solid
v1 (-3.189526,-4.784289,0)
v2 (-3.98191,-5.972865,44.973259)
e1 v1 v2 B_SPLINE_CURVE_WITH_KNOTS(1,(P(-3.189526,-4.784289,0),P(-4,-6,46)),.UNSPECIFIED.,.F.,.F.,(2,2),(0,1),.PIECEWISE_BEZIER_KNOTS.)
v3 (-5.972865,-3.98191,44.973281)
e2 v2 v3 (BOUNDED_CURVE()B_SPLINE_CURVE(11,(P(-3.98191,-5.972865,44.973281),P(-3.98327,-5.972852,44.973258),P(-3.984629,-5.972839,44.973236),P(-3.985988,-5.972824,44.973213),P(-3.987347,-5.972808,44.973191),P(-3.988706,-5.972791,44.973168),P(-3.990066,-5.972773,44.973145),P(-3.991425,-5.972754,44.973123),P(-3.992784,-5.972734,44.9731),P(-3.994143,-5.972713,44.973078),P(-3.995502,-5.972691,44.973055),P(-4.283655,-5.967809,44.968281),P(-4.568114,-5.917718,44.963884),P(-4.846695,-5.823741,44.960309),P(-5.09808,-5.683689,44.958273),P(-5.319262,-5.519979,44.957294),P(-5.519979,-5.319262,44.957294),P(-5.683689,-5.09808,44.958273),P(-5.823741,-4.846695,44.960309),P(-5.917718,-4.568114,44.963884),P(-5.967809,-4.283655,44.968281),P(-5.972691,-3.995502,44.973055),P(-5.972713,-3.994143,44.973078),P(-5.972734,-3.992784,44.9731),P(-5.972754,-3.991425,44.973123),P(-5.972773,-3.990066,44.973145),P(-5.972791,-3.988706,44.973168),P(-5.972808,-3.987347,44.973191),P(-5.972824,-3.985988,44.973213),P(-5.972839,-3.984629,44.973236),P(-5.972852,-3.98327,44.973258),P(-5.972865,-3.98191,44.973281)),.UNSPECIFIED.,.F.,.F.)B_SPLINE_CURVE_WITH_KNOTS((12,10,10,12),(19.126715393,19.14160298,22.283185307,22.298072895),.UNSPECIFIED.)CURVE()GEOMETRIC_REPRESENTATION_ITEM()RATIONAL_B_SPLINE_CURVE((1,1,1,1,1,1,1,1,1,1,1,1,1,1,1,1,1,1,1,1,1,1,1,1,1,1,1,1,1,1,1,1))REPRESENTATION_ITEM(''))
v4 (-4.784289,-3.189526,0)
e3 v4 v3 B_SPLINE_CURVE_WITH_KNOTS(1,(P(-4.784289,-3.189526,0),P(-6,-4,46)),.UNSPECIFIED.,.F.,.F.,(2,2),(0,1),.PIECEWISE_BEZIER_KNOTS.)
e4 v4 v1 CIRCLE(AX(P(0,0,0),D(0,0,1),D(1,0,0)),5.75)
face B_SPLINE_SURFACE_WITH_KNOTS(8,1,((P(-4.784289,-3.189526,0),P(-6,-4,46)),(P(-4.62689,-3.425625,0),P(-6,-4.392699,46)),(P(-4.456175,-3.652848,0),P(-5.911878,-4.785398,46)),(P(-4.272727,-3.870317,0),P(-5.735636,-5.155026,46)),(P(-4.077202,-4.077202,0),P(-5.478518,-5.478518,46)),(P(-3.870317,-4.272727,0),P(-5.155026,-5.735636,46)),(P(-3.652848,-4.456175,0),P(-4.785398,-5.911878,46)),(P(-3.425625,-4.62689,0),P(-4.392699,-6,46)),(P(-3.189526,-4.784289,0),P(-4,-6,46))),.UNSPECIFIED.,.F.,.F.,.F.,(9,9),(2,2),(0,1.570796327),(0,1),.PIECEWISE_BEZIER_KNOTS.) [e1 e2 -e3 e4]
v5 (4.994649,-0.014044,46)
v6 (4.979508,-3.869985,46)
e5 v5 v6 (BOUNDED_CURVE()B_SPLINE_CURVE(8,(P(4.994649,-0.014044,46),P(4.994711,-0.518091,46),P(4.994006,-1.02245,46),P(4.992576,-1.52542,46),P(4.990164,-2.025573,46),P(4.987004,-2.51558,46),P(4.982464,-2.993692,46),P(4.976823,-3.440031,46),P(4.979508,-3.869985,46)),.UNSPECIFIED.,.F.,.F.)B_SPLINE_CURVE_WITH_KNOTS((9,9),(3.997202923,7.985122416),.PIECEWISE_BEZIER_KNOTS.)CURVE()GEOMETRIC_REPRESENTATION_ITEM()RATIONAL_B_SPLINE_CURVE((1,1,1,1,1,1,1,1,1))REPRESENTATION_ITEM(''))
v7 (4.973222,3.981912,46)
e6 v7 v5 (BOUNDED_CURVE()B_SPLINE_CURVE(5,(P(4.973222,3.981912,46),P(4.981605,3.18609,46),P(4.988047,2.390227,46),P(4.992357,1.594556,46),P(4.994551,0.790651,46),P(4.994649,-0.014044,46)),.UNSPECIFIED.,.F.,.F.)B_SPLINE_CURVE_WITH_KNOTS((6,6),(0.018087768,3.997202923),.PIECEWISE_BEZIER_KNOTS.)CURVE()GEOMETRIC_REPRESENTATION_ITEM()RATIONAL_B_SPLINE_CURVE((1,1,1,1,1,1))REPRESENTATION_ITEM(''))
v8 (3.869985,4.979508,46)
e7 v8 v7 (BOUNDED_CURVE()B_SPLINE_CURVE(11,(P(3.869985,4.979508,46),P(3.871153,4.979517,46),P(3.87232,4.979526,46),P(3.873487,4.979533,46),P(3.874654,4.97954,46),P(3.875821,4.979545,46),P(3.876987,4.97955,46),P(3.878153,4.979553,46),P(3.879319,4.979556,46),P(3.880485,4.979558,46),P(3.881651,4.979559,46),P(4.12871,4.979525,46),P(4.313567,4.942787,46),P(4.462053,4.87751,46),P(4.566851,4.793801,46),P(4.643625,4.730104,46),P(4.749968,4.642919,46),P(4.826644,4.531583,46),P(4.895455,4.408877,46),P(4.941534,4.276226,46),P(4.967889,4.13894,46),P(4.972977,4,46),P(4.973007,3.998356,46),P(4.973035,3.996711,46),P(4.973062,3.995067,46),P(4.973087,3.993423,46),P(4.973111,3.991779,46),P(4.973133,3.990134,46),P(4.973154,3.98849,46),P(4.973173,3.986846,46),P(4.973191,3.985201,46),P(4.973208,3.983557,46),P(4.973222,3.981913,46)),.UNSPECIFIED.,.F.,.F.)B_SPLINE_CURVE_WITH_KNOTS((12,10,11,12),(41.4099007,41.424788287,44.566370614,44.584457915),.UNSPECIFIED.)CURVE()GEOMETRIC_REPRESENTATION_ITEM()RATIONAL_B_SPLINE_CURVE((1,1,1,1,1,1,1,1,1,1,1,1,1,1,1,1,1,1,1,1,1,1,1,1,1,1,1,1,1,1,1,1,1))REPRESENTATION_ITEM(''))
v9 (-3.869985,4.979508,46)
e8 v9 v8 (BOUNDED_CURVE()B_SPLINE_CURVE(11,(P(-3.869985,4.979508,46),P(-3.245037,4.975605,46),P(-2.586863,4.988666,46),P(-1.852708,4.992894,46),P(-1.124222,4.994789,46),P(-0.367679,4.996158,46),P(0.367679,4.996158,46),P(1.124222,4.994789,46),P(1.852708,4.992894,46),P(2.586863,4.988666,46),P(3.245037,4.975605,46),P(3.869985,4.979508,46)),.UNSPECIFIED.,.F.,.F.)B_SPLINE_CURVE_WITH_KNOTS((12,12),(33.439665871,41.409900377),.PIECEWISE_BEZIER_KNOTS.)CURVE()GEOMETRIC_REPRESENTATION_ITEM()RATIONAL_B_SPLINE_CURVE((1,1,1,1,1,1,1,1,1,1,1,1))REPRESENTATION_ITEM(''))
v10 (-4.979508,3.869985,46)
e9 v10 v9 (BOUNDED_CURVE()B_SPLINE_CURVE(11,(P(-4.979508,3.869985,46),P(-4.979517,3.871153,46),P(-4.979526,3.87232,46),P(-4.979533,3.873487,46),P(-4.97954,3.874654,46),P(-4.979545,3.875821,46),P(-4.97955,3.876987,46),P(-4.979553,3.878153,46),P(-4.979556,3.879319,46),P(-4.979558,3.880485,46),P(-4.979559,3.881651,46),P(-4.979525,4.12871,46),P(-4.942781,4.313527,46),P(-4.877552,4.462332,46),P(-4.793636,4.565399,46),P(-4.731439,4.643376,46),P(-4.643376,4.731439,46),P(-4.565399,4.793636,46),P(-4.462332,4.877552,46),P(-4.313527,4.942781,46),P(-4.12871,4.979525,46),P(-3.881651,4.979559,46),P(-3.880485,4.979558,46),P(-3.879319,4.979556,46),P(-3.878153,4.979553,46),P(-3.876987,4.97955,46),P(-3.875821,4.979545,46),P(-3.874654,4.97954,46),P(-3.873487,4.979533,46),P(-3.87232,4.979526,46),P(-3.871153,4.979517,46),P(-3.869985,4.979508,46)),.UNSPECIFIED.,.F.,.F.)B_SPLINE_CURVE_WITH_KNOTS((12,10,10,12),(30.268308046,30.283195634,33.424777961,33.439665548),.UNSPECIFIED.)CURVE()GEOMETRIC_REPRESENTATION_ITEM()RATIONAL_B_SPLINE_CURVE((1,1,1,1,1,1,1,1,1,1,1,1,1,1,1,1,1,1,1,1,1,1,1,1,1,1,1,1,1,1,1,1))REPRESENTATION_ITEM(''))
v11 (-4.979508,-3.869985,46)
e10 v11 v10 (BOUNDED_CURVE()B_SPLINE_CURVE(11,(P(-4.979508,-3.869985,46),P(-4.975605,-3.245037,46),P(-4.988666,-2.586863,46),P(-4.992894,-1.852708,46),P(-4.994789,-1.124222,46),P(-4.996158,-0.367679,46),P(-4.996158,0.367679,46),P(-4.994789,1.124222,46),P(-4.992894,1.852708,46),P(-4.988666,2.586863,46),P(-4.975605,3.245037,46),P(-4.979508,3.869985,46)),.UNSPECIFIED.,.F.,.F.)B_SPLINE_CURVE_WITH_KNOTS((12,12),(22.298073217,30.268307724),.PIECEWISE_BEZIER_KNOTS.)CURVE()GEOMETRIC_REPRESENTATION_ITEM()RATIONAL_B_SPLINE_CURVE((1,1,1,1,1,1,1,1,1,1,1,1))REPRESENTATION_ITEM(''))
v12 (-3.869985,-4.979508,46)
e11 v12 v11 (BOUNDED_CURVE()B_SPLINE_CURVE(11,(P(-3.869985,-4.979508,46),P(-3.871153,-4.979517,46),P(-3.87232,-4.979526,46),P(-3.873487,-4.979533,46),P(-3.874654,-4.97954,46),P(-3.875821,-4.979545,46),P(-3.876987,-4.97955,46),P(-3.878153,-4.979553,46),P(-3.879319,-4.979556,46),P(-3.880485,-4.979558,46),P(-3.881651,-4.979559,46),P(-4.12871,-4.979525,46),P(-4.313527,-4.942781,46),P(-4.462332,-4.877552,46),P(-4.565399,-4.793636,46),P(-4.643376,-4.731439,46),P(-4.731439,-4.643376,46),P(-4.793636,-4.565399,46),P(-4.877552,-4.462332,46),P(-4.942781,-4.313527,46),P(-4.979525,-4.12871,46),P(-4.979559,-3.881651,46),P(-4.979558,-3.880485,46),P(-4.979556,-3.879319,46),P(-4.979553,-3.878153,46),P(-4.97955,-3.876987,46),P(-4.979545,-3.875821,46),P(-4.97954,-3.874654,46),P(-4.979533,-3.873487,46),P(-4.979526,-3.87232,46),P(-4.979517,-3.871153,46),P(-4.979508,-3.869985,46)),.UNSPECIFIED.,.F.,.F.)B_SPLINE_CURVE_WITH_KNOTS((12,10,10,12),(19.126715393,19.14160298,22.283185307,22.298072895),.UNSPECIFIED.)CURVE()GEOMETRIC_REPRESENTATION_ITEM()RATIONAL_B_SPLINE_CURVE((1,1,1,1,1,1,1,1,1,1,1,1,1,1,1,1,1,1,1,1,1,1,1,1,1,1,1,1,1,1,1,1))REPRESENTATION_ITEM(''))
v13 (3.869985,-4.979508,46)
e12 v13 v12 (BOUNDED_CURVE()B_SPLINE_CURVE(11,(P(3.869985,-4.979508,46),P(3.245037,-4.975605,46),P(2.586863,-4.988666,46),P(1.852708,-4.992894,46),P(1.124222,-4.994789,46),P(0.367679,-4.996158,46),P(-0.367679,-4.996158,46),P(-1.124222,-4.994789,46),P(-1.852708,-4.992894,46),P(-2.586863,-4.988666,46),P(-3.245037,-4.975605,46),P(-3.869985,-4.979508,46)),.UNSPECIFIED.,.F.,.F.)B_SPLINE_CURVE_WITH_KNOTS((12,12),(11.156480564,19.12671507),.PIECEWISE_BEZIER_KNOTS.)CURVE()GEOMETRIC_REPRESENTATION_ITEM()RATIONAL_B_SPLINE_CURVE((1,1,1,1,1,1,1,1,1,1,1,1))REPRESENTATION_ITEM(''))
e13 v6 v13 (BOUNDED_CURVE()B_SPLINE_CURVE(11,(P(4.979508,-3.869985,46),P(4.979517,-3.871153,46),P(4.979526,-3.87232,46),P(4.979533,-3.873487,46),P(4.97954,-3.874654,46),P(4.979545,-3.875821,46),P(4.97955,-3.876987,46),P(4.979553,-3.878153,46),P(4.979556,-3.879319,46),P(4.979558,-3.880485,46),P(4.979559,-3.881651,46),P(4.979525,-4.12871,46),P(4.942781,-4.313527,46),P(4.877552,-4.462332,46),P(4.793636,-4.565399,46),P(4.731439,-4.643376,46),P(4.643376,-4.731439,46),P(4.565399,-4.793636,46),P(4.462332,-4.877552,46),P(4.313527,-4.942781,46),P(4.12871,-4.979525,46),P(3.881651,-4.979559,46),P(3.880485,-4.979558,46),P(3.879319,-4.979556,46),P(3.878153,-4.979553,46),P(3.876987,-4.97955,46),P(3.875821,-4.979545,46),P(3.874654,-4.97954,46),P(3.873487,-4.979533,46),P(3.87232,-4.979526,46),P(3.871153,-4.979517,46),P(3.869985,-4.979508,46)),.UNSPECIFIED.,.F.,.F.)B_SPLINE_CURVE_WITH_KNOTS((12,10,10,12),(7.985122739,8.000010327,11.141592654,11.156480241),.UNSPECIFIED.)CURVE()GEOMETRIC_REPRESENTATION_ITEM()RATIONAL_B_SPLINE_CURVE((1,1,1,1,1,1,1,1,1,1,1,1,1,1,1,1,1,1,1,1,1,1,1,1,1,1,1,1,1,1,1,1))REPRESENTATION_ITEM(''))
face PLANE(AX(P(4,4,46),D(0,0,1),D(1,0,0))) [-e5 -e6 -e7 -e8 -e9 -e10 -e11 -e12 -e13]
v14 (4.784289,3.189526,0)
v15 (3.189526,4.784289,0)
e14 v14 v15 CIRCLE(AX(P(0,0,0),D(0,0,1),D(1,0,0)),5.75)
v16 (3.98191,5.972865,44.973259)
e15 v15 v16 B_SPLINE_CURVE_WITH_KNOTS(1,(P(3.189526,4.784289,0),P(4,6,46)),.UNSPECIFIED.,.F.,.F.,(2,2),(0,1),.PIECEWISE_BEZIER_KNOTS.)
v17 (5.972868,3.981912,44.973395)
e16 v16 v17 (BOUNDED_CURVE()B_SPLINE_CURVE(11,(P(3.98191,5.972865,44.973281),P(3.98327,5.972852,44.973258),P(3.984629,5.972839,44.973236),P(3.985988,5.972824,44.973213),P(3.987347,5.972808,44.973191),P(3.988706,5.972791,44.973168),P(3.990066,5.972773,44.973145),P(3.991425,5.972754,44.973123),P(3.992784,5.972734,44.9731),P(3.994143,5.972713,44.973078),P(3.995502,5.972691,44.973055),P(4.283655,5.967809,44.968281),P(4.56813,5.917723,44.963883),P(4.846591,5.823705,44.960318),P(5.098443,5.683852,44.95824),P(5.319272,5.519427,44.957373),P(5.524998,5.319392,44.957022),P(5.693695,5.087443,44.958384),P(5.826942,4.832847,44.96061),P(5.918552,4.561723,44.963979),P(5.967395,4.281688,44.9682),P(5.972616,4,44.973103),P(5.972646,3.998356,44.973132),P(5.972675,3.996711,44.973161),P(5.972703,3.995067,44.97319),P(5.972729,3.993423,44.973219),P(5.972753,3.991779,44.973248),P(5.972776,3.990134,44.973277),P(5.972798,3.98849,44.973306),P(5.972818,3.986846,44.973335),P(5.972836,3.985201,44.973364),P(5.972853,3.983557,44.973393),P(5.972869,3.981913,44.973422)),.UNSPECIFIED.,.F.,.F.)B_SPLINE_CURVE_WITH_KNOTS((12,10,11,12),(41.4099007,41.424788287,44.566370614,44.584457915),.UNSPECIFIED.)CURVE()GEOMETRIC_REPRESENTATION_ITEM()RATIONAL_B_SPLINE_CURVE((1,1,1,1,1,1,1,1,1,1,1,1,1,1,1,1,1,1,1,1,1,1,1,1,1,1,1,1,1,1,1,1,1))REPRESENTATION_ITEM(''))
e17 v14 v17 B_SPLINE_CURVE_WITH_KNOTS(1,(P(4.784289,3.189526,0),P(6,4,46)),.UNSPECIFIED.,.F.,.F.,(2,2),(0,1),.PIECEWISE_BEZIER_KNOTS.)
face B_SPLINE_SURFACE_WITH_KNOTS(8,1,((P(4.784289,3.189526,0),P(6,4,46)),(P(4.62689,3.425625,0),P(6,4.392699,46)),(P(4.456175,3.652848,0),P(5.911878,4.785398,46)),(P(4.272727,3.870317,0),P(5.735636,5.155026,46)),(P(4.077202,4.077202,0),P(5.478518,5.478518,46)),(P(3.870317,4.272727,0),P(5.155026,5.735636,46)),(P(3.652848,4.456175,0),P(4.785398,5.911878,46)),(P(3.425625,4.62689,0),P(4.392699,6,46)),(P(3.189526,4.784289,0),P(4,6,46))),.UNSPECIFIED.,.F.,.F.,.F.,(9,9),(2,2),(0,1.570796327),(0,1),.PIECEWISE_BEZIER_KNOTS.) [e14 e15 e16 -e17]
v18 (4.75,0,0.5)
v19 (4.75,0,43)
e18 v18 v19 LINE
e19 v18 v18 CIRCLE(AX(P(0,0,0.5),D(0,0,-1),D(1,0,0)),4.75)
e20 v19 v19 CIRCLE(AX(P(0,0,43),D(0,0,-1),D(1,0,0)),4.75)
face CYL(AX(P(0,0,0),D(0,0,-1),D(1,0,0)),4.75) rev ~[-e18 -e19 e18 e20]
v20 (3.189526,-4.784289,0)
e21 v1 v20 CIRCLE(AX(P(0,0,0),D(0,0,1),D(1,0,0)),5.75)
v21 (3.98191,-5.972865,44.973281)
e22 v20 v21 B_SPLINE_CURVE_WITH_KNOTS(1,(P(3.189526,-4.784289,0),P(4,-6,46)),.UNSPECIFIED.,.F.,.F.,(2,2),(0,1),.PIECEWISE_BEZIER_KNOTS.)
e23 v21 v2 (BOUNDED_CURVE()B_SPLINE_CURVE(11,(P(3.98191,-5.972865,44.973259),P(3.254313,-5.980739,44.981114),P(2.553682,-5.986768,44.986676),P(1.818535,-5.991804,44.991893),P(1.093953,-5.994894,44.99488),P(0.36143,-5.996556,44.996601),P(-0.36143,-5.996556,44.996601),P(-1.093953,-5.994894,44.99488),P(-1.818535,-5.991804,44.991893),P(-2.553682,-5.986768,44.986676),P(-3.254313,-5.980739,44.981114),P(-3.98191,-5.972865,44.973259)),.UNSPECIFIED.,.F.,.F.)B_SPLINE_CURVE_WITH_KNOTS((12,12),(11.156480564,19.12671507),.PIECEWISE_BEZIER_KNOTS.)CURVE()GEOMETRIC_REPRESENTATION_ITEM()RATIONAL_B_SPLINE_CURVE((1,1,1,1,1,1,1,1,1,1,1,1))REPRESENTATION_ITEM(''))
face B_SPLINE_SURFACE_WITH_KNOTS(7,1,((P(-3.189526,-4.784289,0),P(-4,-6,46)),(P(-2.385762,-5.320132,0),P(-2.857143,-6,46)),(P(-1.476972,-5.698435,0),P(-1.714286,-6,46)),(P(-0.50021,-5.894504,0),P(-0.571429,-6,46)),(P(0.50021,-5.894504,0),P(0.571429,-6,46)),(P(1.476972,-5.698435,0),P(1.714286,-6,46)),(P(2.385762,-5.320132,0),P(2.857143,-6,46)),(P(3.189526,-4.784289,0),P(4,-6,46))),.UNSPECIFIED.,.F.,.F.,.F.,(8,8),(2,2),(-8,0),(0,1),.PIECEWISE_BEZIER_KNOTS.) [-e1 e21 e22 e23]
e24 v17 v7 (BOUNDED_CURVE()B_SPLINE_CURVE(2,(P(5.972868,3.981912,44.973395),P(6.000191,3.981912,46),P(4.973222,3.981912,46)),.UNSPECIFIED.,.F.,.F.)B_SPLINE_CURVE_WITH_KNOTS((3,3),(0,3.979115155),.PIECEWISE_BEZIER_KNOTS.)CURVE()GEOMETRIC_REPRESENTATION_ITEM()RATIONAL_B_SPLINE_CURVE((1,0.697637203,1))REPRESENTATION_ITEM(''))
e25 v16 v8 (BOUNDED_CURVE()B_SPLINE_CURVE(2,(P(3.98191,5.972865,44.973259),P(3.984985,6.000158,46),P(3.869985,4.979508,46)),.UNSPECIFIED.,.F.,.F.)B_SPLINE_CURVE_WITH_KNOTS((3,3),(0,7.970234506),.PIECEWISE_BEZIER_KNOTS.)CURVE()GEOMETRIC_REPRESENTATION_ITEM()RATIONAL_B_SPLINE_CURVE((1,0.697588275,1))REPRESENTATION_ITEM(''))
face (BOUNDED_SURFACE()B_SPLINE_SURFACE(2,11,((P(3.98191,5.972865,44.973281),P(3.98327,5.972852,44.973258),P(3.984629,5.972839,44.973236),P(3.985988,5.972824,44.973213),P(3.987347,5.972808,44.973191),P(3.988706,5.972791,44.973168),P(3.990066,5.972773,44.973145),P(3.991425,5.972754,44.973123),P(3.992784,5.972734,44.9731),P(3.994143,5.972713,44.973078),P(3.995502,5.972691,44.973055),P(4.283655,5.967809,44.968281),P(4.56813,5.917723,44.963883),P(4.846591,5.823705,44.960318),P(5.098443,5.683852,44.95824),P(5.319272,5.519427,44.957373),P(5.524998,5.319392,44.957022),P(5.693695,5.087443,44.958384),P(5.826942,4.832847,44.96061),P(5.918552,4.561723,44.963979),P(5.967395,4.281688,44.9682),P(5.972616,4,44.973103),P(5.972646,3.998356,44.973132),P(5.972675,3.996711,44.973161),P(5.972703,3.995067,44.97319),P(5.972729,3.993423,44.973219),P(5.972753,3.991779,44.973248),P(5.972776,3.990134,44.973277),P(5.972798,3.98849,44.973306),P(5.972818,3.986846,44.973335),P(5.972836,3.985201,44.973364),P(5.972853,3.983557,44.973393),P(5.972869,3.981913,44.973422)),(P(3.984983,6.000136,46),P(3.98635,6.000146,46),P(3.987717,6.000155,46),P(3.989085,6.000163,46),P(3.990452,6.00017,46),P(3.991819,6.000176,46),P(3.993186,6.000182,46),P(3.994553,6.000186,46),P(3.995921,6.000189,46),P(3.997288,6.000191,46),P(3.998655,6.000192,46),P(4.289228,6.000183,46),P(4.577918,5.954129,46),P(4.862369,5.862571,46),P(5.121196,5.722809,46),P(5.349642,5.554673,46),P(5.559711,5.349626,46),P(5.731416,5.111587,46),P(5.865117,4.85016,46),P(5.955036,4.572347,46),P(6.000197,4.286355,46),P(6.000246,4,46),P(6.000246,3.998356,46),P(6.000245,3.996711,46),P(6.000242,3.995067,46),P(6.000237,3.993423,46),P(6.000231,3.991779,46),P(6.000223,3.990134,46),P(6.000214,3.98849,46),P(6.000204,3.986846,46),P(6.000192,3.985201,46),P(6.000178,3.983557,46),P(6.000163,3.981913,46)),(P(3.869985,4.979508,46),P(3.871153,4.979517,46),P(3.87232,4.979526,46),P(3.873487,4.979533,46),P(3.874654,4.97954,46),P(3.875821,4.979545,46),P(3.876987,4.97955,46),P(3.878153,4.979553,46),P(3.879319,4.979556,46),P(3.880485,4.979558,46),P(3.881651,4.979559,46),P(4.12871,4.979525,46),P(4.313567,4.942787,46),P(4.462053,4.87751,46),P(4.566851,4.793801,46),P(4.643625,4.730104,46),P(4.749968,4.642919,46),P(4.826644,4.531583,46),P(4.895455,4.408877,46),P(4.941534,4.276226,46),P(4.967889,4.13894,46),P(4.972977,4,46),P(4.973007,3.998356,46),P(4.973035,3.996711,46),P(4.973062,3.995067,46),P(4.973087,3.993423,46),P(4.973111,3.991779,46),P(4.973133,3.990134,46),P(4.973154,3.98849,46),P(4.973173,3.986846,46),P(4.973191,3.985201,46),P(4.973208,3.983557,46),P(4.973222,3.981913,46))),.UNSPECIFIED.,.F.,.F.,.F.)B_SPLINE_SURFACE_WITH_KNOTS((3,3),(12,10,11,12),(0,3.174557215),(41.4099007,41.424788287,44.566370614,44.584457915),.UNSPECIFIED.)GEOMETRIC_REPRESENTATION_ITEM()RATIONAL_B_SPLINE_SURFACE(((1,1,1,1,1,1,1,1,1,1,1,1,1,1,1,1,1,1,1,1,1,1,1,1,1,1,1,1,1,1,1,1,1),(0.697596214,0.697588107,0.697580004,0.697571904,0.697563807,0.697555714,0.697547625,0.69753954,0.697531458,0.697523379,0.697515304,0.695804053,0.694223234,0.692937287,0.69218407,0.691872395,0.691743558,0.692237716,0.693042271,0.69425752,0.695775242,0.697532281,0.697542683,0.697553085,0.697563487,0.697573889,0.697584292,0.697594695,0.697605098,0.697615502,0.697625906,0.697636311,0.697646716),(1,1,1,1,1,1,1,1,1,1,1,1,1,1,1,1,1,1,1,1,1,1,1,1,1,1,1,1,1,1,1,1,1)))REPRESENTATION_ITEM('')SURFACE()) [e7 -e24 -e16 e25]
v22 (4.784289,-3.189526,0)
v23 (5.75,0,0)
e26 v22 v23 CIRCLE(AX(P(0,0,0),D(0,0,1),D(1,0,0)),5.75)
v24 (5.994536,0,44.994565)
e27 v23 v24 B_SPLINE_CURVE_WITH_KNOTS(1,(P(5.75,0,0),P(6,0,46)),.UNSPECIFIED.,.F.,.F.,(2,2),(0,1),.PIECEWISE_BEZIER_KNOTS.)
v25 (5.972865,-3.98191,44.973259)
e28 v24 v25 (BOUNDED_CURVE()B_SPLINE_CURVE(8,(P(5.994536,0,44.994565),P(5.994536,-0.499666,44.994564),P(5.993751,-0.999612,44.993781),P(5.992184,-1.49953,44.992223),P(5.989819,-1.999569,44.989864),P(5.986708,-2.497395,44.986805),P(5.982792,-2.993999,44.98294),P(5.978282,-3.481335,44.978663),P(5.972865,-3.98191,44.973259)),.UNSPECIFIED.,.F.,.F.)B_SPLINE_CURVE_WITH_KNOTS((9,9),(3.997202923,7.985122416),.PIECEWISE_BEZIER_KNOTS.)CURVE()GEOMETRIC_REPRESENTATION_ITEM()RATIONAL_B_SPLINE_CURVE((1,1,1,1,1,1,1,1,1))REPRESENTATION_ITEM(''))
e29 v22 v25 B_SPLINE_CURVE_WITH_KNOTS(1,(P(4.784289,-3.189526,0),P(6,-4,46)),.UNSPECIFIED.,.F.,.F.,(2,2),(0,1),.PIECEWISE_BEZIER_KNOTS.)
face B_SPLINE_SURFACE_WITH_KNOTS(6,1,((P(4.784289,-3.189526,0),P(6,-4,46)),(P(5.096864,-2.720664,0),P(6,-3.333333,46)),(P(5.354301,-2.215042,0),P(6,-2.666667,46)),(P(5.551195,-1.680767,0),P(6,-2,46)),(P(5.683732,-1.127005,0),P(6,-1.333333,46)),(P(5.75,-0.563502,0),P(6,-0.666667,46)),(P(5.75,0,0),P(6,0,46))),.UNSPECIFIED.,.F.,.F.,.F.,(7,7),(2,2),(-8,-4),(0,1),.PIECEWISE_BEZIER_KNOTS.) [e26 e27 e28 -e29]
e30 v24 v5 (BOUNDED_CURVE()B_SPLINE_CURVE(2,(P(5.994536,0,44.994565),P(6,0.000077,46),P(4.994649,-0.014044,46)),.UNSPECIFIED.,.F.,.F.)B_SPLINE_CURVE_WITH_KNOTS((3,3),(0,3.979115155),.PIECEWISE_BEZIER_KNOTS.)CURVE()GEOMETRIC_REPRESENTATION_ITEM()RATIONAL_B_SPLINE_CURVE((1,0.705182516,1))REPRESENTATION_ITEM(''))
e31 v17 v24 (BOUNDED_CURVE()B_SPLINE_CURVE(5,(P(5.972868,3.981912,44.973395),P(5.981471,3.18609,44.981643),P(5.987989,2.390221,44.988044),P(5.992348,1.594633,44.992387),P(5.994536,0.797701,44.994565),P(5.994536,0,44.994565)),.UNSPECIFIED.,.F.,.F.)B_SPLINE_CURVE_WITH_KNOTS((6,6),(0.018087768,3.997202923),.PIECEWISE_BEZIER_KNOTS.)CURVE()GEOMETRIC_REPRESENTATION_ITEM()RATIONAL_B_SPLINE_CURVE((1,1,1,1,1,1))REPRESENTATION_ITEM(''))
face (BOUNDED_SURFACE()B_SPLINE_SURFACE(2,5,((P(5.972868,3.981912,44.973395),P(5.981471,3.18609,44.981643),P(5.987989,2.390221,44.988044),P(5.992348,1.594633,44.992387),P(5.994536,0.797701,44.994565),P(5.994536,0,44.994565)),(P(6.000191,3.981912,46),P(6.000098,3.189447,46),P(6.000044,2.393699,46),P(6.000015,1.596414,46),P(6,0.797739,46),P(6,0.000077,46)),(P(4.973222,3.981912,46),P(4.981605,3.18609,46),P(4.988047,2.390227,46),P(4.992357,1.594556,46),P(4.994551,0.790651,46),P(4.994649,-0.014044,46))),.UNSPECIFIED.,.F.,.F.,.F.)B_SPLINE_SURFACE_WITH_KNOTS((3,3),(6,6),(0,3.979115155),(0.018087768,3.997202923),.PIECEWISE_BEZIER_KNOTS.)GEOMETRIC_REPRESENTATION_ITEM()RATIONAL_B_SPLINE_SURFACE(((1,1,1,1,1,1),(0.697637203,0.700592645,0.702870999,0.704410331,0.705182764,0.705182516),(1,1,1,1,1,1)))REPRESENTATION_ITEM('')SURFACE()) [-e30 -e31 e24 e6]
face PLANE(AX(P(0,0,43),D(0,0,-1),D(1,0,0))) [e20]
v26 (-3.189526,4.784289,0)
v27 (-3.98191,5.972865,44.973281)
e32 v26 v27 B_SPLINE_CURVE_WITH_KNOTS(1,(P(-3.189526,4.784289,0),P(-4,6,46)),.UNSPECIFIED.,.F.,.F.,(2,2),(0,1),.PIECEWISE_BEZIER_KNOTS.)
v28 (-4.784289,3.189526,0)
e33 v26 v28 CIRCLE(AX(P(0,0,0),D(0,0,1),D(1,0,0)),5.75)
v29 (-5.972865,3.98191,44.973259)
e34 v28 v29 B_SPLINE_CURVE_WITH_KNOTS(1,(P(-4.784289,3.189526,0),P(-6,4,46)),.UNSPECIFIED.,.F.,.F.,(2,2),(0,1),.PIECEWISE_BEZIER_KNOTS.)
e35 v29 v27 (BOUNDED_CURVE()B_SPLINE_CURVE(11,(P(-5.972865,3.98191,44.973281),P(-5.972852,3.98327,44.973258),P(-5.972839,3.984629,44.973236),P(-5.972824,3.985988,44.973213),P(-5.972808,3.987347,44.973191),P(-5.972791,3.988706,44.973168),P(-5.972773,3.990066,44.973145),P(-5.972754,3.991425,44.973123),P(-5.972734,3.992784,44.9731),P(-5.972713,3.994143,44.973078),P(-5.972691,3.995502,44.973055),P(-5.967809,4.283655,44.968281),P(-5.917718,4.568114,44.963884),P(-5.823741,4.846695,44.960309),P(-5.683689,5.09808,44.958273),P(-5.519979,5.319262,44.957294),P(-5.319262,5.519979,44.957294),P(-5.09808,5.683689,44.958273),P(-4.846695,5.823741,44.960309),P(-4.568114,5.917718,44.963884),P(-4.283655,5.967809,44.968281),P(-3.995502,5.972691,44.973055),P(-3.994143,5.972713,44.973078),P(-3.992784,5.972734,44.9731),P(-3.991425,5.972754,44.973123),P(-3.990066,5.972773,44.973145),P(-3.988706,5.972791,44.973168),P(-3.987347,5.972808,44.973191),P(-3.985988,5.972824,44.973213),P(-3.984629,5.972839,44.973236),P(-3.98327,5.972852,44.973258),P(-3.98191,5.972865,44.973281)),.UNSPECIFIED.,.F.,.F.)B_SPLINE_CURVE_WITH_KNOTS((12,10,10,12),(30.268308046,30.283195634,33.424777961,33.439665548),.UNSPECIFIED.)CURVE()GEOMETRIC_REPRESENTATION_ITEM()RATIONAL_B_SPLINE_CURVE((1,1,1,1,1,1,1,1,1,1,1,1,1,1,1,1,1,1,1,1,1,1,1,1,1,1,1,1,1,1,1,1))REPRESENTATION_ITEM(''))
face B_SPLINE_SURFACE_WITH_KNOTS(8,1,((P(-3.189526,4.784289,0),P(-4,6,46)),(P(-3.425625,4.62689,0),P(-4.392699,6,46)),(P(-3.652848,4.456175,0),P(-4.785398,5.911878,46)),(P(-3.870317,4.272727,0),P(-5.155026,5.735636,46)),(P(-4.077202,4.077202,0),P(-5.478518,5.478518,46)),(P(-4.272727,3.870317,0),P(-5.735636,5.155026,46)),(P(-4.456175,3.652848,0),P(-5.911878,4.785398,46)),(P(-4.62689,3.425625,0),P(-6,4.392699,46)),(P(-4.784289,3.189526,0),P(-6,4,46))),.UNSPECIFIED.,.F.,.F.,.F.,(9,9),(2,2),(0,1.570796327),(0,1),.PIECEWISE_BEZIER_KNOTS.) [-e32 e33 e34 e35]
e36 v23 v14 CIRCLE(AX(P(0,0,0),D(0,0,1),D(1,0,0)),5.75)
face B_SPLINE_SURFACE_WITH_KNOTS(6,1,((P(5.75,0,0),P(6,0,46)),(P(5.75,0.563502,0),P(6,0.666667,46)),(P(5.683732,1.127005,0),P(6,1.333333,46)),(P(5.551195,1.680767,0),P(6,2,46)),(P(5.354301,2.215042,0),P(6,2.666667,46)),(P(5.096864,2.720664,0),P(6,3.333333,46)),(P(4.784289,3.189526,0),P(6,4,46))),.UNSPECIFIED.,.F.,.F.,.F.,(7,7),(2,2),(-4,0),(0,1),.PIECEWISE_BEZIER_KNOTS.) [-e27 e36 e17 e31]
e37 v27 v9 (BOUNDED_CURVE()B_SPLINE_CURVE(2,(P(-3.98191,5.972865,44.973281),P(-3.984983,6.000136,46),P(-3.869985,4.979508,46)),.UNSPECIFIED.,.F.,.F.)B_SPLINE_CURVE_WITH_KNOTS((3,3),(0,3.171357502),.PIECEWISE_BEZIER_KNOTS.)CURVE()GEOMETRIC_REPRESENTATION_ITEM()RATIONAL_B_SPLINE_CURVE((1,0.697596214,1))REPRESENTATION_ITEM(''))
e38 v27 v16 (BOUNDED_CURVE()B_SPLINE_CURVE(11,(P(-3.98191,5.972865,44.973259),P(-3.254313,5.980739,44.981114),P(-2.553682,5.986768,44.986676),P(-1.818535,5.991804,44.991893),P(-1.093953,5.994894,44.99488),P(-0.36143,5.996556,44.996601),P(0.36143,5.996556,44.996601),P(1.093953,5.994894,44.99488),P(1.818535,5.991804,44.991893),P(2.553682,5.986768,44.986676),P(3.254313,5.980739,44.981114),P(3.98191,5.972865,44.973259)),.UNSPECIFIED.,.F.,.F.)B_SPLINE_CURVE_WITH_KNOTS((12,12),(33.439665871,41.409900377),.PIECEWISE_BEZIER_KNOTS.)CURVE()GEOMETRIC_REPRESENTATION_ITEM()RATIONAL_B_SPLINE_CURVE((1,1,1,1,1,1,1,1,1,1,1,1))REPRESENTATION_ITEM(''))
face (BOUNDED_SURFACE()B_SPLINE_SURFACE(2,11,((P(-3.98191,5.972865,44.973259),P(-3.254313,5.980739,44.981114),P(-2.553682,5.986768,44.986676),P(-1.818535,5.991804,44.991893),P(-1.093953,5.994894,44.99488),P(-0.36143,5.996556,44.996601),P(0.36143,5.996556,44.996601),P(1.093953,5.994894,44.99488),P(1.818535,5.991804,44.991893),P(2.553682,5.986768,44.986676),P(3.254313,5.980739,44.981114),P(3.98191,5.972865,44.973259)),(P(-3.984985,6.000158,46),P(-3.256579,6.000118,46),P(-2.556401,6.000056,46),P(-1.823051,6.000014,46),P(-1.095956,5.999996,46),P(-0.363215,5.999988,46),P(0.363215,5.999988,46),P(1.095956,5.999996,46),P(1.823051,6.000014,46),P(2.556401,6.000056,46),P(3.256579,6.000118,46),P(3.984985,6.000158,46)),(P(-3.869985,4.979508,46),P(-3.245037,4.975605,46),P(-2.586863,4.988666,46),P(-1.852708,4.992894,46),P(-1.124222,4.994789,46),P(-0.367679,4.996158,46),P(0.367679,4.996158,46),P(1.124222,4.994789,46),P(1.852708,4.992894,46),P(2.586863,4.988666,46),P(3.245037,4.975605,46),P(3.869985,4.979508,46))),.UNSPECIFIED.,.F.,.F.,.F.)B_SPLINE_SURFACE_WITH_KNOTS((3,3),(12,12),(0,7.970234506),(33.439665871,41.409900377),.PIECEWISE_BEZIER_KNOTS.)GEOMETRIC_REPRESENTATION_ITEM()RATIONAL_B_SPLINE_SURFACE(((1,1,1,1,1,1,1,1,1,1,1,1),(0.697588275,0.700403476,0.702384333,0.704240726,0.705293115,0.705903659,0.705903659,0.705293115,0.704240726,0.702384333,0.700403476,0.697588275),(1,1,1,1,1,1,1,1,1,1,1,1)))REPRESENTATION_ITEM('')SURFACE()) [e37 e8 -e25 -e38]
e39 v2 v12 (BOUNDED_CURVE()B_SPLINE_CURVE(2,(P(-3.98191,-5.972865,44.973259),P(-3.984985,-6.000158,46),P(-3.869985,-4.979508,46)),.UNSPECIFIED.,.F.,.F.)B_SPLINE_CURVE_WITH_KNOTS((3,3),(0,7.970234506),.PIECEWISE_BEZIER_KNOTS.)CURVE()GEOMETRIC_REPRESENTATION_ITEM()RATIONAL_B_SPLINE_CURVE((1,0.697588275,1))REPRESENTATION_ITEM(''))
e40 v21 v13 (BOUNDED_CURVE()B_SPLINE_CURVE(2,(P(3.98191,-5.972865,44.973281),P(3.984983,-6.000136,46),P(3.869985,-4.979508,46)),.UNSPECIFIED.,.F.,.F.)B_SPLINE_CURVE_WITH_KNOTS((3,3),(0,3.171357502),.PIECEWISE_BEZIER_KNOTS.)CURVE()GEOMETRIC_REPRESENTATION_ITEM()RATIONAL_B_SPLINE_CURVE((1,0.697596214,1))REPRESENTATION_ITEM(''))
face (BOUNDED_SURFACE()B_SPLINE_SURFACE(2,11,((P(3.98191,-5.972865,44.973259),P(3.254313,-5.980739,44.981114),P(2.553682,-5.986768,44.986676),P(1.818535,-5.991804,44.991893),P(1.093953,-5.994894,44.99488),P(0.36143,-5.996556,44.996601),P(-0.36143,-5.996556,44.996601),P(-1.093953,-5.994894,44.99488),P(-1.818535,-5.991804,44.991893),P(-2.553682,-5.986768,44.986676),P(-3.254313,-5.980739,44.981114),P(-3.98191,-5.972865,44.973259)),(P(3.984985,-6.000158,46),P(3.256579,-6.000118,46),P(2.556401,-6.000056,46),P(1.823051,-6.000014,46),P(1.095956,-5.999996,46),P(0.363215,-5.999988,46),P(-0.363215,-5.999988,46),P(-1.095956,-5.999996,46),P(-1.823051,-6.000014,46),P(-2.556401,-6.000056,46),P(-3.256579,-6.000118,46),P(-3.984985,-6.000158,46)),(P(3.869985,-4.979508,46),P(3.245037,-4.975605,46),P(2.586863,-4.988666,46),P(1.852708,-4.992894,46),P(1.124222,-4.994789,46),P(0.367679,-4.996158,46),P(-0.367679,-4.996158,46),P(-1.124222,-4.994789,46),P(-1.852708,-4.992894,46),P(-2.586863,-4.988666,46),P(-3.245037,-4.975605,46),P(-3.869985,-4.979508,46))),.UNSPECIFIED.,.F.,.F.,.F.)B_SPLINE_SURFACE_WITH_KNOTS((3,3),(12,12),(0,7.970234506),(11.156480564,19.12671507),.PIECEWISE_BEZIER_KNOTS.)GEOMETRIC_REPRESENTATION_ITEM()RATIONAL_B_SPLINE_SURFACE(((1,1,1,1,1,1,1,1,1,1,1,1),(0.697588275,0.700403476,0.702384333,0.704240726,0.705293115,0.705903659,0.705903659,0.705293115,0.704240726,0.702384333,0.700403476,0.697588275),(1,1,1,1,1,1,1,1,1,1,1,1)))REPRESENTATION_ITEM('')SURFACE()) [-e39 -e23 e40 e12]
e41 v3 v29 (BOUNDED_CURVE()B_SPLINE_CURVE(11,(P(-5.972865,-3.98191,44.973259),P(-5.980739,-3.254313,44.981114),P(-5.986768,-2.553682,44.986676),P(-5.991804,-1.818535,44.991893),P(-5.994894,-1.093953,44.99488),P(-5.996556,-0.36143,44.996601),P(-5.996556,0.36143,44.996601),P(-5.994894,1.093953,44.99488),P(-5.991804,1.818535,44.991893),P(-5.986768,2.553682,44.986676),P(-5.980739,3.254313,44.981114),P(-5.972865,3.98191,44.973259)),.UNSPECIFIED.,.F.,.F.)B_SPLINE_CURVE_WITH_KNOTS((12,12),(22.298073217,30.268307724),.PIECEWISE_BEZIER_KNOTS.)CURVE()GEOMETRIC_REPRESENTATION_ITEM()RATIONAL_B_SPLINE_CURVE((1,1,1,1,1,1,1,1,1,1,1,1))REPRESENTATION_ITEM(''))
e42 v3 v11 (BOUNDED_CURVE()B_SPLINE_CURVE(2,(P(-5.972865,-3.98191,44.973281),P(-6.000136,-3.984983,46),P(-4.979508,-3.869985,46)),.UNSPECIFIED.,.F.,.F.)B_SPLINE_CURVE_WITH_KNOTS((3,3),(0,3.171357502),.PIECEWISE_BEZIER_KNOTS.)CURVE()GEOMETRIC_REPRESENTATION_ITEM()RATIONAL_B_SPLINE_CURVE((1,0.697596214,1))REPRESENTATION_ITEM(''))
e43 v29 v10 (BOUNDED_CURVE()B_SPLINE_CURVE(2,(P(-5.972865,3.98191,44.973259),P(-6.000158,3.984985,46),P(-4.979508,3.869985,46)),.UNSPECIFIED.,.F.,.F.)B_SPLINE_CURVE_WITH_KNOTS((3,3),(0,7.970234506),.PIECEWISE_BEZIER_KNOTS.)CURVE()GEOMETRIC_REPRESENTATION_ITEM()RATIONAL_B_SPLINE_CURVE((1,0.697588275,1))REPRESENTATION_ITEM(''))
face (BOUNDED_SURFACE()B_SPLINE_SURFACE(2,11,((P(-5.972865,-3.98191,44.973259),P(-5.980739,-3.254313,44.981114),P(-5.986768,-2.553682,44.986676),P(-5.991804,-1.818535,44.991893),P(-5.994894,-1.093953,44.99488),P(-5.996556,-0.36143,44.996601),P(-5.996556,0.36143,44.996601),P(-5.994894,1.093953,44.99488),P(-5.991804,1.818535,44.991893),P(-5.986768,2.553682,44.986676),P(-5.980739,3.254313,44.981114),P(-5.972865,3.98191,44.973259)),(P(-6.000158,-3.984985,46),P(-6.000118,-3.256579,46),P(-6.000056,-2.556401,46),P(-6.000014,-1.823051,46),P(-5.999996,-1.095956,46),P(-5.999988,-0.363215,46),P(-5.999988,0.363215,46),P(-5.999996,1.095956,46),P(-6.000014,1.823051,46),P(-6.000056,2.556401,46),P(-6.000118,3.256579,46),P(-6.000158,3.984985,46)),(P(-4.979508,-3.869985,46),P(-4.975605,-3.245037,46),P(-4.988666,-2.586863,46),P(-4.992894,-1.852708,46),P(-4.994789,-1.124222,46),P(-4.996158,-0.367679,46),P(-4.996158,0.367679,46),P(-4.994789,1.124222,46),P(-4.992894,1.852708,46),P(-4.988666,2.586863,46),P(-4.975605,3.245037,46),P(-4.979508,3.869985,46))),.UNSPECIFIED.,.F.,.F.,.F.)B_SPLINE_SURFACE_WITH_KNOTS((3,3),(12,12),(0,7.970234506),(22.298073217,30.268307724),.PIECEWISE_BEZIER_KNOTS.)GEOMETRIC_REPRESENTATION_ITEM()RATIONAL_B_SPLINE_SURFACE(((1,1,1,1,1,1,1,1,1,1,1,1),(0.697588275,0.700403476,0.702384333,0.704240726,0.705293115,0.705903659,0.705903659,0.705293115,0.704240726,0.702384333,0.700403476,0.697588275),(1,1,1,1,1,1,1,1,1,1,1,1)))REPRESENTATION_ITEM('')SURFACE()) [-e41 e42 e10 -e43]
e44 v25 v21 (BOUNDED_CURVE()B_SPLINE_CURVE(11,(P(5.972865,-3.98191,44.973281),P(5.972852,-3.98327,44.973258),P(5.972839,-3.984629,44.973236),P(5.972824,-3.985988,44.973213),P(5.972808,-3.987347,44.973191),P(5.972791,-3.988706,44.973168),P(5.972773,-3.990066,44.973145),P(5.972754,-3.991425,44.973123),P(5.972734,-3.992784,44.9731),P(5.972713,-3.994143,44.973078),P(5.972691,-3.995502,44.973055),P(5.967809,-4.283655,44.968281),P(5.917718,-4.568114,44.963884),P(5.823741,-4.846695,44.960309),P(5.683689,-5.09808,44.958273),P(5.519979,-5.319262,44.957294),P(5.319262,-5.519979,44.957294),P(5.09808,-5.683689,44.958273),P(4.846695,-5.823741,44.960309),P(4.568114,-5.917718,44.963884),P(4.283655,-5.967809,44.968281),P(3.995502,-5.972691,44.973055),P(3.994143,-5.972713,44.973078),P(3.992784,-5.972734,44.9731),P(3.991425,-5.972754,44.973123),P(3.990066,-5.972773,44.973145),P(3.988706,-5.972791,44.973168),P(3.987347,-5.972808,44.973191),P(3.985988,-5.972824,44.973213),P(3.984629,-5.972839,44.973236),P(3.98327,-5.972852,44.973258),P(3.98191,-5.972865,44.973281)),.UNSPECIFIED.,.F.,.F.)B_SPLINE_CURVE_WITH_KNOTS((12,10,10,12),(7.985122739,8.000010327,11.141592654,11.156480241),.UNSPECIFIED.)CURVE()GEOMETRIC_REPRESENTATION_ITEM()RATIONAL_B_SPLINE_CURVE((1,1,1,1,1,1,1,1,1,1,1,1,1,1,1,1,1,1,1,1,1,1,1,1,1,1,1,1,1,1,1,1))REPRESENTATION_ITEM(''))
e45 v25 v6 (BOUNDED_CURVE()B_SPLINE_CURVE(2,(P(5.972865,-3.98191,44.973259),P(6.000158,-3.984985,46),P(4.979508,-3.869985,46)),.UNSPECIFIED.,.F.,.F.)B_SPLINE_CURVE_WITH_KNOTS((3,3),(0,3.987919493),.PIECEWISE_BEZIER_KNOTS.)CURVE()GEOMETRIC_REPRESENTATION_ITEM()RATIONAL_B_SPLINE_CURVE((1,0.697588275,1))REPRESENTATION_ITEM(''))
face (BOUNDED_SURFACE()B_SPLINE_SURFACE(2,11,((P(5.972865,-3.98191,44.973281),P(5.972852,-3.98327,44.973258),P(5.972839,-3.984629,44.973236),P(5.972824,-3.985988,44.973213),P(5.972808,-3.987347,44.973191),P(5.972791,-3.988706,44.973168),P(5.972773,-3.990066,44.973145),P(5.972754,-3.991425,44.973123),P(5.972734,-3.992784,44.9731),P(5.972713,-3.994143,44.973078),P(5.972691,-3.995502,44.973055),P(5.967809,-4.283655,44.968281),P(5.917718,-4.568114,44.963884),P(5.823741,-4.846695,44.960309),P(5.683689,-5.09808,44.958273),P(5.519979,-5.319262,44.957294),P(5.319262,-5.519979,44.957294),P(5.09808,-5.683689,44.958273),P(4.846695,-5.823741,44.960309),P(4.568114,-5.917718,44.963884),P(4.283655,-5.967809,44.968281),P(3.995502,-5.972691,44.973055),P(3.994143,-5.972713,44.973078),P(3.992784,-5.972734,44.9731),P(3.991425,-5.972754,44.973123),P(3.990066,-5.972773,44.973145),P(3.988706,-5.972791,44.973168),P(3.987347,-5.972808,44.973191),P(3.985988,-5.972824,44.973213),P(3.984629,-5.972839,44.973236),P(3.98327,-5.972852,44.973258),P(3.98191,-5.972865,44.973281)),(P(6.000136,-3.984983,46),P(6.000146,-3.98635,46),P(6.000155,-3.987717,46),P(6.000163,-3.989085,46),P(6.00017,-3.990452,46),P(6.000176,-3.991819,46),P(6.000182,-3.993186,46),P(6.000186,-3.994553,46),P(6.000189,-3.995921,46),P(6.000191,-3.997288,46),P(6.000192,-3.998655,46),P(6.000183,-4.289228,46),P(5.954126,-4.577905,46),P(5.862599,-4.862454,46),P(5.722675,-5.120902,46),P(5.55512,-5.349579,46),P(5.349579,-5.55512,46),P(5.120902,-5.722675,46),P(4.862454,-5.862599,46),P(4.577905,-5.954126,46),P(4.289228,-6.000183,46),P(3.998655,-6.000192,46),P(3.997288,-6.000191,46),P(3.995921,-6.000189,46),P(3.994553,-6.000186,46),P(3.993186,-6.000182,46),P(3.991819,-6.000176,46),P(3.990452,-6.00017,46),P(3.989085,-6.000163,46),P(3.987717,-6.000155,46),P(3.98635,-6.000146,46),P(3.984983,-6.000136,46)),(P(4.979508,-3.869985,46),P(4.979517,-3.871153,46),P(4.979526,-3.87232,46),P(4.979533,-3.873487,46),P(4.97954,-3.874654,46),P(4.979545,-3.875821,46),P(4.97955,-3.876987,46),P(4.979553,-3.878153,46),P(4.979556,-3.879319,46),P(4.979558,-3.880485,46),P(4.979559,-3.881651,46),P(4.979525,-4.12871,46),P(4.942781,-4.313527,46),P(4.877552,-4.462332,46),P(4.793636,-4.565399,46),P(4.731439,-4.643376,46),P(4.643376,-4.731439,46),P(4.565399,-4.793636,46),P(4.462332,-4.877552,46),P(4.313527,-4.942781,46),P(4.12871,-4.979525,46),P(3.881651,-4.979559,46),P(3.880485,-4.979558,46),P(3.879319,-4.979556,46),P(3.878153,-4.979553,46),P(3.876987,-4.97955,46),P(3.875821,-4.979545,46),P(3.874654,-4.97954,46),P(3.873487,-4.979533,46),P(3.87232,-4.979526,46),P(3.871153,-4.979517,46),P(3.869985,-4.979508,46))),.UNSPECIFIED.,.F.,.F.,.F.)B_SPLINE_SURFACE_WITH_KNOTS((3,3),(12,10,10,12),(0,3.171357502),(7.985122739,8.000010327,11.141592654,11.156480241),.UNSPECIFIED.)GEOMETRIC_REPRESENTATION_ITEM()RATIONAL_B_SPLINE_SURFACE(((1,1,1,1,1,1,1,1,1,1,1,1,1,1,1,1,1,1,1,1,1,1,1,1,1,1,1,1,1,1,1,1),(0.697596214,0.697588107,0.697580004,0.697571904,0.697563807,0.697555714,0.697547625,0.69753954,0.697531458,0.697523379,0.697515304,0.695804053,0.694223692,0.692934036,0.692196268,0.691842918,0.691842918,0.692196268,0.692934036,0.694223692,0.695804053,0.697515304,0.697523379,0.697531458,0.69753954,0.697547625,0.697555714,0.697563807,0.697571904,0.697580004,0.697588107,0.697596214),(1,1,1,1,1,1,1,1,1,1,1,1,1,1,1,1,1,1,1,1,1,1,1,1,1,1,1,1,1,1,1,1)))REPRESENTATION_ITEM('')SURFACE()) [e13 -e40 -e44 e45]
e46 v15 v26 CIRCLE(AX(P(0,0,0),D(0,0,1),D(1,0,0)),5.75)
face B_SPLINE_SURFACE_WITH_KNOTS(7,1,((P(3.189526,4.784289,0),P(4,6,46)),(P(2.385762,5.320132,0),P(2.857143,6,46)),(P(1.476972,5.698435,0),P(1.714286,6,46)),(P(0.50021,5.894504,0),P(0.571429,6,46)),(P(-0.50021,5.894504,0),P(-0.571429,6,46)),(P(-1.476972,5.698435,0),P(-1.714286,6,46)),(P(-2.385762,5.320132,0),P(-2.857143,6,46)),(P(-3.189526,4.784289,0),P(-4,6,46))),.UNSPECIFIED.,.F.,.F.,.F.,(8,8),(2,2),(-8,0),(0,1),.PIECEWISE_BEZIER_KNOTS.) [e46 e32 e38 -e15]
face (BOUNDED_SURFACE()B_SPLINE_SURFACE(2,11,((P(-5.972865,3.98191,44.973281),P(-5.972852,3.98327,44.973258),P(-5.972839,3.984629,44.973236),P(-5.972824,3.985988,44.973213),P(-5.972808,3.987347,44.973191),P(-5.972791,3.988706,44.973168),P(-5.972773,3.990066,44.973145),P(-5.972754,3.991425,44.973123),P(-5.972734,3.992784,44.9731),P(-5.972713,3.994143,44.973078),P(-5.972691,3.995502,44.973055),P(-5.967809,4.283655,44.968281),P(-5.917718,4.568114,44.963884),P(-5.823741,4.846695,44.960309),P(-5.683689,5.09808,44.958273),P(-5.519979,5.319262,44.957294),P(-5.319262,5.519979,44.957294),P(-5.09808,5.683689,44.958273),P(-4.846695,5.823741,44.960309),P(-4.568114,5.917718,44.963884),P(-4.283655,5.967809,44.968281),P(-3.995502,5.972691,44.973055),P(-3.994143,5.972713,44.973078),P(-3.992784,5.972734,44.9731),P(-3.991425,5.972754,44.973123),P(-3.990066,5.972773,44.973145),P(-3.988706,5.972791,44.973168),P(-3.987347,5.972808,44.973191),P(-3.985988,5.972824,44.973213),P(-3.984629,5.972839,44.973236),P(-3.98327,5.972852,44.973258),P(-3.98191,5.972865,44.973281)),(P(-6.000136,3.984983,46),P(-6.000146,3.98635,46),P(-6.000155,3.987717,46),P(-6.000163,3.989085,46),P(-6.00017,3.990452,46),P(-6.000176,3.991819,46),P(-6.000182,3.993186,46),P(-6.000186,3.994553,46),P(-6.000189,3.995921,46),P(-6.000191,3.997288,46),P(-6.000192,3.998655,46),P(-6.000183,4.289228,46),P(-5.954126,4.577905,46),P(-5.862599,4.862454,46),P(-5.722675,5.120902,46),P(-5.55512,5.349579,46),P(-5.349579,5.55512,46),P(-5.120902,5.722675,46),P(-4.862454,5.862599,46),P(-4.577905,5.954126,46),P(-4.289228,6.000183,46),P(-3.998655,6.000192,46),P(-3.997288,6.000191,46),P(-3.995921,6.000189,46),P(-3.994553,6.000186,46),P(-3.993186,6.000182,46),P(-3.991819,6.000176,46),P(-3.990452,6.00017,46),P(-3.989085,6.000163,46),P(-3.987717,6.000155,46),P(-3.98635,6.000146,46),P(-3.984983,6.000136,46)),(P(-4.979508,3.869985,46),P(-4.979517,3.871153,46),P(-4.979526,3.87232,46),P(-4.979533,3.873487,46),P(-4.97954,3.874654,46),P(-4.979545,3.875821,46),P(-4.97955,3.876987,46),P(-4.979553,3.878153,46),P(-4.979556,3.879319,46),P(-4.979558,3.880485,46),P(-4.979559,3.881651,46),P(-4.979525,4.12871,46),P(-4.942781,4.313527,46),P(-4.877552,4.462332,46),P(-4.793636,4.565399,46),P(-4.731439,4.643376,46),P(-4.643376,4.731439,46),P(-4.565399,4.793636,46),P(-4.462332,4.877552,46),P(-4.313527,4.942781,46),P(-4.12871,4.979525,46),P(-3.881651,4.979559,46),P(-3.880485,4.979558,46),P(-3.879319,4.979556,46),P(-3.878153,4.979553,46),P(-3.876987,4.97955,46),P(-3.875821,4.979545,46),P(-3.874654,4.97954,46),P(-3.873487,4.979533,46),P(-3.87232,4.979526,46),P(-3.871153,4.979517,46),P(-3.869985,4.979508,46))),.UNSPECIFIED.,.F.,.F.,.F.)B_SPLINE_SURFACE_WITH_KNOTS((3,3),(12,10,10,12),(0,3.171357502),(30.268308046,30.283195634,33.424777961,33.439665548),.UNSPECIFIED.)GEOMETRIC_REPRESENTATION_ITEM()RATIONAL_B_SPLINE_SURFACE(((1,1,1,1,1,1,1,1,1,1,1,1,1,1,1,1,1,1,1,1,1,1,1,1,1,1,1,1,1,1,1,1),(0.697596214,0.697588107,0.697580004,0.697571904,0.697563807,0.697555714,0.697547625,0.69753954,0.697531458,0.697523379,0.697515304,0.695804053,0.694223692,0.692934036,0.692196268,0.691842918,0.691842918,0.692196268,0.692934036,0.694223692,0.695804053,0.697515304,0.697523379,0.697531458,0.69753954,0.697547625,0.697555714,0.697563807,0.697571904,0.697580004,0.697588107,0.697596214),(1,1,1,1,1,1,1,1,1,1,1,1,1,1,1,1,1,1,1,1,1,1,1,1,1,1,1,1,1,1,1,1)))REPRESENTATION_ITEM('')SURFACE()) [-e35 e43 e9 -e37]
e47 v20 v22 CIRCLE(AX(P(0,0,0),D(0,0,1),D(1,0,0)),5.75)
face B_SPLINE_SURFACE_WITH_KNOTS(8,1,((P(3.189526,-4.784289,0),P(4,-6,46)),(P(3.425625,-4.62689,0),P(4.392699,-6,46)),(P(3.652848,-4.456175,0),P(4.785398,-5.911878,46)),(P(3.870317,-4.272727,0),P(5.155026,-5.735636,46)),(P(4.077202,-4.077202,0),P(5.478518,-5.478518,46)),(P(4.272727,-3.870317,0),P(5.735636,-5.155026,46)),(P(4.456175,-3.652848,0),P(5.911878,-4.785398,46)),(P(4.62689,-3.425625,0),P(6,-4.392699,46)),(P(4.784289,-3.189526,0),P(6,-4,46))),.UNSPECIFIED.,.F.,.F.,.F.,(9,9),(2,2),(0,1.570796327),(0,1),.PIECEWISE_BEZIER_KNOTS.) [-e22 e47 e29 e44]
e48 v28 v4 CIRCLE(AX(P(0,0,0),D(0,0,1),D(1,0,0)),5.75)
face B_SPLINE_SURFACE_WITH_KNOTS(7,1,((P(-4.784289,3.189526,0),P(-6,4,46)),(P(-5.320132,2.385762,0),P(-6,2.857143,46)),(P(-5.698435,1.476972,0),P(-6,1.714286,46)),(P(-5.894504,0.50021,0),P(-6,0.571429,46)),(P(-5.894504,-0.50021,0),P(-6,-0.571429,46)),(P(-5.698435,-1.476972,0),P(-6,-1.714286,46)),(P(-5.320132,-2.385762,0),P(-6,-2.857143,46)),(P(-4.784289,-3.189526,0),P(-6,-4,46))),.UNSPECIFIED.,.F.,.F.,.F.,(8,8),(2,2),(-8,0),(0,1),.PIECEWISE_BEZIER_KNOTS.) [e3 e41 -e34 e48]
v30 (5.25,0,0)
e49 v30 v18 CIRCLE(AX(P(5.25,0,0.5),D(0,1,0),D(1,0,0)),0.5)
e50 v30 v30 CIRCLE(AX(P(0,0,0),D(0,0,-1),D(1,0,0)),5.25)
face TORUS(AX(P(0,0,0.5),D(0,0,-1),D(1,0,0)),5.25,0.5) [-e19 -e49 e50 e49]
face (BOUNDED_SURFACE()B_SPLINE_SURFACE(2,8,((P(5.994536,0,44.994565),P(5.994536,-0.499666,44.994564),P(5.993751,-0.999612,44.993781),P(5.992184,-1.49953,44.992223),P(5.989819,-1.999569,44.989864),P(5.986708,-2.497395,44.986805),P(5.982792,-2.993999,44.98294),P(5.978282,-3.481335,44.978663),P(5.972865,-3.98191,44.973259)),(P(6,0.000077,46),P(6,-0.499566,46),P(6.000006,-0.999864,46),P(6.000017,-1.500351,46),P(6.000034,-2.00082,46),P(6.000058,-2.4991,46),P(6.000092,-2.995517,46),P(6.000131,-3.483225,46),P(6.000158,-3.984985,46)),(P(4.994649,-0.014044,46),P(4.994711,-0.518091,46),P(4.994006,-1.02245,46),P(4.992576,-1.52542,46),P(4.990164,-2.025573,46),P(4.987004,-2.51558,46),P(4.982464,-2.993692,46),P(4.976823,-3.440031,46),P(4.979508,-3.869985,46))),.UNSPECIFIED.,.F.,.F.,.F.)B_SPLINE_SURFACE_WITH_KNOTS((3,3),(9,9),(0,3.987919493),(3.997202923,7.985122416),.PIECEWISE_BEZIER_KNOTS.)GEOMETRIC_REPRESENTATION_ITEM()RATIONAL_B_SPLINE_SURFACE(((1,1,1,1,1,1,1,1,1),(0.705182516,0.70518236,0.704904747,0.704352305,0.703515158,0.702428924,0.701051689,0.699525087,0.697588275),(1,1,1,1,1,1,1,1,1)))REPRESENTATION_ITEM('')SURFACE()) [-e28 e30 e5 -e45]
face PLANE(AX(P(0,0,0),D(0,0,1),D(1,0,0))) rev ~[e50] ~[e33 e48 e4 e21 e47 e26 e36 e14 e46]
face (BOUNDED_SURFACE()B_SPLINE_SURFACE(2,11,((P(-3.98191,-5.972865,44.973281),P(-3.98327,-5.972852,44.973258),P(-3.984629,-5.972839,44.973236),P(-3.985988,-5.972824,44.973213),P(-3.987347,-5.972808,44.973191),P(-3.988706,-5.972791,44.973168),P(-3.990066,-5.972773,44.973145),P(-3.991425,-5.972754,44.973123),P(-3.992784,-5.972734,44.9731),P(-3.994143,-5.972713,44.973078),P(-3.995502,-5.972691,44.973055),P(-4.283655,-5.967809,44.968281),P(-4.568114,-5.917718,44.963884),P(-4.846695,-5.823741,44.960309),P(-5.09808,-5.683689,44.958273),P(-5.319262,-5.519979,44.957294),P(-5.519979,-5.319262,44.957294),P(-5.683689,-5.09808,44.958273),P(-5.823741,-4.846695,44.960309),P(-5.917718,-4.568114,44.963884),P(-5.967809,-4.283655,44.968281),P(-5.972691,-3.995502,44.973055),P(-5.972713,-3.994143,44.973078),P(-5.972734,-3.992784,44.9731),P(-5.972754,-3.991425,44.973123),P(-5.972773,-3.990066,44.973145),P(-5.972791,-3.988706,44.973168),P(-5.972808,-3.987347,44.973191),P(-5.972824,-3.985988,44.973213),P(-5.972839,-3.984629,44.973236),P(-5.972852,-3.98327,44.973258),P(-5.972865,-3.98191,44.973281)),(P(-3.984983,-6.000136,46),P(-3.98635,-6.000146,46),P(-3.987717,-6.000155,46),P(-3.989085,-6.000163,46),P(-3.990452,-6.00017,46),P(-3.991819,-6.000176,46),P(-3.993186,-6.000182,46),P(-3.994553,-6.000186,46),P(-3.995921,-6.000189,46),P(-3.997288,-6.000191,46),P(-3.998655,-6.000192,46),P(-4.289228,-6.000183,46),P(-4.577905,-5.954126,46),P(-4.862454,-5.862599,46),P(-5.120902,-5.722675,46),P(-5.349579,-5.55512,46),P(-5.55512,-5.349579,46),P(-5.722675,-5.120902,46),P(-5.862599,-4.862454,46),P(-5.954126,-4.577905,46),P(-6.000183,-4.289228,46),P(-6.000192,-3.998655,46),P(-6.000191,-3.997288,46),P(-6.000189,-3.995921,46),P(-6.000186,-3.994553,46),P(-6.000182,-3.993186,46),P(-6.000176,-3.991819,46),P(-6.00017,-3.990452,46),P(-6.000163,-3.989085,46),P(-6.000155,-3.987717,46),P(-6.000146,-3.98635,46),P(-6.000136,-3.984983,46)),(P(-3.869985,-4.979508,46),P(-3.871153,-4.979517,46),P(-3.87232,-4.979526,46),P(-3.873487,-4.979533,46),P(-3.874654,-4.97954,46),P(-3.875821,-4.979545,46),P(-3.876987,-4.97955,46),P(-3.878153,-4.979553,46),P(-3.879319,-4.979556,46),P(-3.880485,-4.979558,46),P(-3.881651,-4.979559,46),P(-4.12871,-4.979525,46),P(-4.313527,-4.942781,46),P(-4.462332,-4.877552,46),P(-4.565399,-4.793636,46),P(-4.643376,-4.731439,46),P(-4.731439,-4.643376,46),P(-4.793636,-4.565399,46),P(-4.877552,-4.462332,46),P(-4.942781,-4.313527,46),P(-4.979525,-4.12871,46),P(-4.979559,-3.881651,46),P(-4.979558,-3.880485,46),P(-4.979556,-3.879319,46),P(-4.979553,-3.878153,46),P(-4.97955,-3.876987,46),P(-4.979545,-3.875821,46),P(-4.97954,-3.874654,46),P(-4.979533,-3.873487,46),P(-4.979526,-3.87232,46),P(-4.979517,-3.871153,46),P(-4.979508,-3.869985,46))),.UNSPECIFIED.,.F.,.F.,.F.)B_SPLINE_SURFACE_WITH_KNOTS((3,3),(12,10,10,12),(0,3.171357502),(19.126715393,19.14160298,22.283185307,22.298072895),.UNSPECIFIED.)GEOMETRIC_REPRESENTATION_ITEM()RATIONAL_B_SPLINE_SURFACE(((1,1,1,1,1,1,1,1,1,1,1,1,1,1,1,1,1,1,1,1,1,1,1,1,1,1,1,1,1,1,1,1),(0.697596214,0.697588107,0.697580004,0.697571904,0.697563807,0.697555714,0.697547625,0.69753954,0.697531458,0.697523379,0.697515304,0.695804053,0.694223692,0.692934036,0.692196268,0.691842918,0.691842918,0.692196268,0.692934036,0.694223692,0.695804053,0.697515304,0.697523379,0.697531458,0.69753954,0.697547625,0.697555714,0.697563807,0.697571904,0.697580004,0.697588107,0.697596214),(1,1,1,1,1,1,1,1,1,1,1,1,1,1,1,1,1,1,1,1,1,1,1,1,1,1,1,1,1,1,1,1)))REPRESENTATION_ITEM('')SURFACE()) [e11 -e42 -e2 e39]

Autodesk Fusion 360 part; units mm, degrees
sketch "Sketch3" plane through (0, 0, 0) normal (0, 0, 1) x (1, 0, 0)
  circle A0 centre (0, 0) radius 5.75
  dimension "d17" = 11.5
ref_plane "WorkPlane1" through (0, 0, 46) normal (0, 0, 1) x (1, 0, 0)
sketch "Sketch4" plane through (0, 0, 46) normal (0, 0, 1) x (1, 0, 0)
  line L0 (4, -6) -> (-4, -6)
  line L1 (-6, -4) -> (-6, 4)
  line L2 (-4, 6) -> (4, 6)
  line L3 (6, 4) -> (6, -4)
  arc A0 (-4, 6) -> (-6, 4) centre (-4, 4) ccw
  arc A1 (6, 4) -> (4, 6) centre (4, 4) ccw
  arc A2 (4, -6) -> (6, -4) centre (4, -4) ccw
  arc A3 (-6, -4) -> (-4, -6) centre (-4, -4) ccw
  point P0 (-6, -6)
  point P1 (-6, 6)
  point P2 (6, 6)
  dimension "d19" = 12
  dimension "d20" = 12
  dimension "d21" = 6
  dimension "d22" = 6
  dimension "d23" = 2
  dimension "d24" = 2
  dimension "d25" = 2
  dimension "d26" = 2
loft "Loft1" add profiles "Sketch3", "Sketch4" section 1 section 2
sketch "Sketch5" plane through (0, 0, 0) normal (0, 0, -1) x (1, 0, 0)
  circle A0 centre (0, 0) radius 4.75
  arc A1 (4.8644, 3.066) -> (4.8549, -3.081) centre (0, 0) ccw
  arc A2 (4.8549, -3.081) -> (4.8644, 3.066) centre (0, 0) ccw
  dimension "d27" = 9.5
extrude "Extrude2" cut sketch "Sketch5" against normal blind 43 contours A0
fillet "Fillet1" radius 1 2 edges at (6, 0, 46) (-6, 0, 46)
fillet "Fillet2" radius 0.5 1 edges at (-4.4286, -1.7177, 0)
sketch "Sketch1" plane through (0, 0, 0) normal (0, 1, 0) x (1, 0, 0)
  circle A0 centre (0, 0) radius 4.5
  circle A1 centre (0, 0) radius 5.5
  dimension "d1" = 9
  dimension "d2" = 11
extrude "Extrude1" [suppressed]
sketch "Sketch2" plane through (0, 0, 0) normal (0, 0, 1) x (1, 0, 0)
  line L0 (4.75, 0) -> (4.75, 43)
  line L1 (4.75, 43) -> (0, 43)
  line L2 (0, 43) -> (0, 45)
  line L3 (0, 45) -> (5.75, 45)
  line L4 (5.75, 45) -> (5.75, 0)
  line L5 (5.75, 0) -> (4.75, 0)
  dimension "d6" = 43
  dimension "d7" = 2
  dimension "d8" = 1
  dimension "d10" = 4.75
  dimension "d14" = 4.75
revolve "Revolve3" [suppressed]
chamfer "Chamfer1" [suppressed]
revolve "Revolve1" [suppressed]
revolve "Revolve2" [suppressed]
equation "d17 = ( ( ( 4.75 * 2 ) * 1 ) * 1 mm ) + 2 mm"
equation "d27 = ( 4.75 * 2 ) * 1 mm"
